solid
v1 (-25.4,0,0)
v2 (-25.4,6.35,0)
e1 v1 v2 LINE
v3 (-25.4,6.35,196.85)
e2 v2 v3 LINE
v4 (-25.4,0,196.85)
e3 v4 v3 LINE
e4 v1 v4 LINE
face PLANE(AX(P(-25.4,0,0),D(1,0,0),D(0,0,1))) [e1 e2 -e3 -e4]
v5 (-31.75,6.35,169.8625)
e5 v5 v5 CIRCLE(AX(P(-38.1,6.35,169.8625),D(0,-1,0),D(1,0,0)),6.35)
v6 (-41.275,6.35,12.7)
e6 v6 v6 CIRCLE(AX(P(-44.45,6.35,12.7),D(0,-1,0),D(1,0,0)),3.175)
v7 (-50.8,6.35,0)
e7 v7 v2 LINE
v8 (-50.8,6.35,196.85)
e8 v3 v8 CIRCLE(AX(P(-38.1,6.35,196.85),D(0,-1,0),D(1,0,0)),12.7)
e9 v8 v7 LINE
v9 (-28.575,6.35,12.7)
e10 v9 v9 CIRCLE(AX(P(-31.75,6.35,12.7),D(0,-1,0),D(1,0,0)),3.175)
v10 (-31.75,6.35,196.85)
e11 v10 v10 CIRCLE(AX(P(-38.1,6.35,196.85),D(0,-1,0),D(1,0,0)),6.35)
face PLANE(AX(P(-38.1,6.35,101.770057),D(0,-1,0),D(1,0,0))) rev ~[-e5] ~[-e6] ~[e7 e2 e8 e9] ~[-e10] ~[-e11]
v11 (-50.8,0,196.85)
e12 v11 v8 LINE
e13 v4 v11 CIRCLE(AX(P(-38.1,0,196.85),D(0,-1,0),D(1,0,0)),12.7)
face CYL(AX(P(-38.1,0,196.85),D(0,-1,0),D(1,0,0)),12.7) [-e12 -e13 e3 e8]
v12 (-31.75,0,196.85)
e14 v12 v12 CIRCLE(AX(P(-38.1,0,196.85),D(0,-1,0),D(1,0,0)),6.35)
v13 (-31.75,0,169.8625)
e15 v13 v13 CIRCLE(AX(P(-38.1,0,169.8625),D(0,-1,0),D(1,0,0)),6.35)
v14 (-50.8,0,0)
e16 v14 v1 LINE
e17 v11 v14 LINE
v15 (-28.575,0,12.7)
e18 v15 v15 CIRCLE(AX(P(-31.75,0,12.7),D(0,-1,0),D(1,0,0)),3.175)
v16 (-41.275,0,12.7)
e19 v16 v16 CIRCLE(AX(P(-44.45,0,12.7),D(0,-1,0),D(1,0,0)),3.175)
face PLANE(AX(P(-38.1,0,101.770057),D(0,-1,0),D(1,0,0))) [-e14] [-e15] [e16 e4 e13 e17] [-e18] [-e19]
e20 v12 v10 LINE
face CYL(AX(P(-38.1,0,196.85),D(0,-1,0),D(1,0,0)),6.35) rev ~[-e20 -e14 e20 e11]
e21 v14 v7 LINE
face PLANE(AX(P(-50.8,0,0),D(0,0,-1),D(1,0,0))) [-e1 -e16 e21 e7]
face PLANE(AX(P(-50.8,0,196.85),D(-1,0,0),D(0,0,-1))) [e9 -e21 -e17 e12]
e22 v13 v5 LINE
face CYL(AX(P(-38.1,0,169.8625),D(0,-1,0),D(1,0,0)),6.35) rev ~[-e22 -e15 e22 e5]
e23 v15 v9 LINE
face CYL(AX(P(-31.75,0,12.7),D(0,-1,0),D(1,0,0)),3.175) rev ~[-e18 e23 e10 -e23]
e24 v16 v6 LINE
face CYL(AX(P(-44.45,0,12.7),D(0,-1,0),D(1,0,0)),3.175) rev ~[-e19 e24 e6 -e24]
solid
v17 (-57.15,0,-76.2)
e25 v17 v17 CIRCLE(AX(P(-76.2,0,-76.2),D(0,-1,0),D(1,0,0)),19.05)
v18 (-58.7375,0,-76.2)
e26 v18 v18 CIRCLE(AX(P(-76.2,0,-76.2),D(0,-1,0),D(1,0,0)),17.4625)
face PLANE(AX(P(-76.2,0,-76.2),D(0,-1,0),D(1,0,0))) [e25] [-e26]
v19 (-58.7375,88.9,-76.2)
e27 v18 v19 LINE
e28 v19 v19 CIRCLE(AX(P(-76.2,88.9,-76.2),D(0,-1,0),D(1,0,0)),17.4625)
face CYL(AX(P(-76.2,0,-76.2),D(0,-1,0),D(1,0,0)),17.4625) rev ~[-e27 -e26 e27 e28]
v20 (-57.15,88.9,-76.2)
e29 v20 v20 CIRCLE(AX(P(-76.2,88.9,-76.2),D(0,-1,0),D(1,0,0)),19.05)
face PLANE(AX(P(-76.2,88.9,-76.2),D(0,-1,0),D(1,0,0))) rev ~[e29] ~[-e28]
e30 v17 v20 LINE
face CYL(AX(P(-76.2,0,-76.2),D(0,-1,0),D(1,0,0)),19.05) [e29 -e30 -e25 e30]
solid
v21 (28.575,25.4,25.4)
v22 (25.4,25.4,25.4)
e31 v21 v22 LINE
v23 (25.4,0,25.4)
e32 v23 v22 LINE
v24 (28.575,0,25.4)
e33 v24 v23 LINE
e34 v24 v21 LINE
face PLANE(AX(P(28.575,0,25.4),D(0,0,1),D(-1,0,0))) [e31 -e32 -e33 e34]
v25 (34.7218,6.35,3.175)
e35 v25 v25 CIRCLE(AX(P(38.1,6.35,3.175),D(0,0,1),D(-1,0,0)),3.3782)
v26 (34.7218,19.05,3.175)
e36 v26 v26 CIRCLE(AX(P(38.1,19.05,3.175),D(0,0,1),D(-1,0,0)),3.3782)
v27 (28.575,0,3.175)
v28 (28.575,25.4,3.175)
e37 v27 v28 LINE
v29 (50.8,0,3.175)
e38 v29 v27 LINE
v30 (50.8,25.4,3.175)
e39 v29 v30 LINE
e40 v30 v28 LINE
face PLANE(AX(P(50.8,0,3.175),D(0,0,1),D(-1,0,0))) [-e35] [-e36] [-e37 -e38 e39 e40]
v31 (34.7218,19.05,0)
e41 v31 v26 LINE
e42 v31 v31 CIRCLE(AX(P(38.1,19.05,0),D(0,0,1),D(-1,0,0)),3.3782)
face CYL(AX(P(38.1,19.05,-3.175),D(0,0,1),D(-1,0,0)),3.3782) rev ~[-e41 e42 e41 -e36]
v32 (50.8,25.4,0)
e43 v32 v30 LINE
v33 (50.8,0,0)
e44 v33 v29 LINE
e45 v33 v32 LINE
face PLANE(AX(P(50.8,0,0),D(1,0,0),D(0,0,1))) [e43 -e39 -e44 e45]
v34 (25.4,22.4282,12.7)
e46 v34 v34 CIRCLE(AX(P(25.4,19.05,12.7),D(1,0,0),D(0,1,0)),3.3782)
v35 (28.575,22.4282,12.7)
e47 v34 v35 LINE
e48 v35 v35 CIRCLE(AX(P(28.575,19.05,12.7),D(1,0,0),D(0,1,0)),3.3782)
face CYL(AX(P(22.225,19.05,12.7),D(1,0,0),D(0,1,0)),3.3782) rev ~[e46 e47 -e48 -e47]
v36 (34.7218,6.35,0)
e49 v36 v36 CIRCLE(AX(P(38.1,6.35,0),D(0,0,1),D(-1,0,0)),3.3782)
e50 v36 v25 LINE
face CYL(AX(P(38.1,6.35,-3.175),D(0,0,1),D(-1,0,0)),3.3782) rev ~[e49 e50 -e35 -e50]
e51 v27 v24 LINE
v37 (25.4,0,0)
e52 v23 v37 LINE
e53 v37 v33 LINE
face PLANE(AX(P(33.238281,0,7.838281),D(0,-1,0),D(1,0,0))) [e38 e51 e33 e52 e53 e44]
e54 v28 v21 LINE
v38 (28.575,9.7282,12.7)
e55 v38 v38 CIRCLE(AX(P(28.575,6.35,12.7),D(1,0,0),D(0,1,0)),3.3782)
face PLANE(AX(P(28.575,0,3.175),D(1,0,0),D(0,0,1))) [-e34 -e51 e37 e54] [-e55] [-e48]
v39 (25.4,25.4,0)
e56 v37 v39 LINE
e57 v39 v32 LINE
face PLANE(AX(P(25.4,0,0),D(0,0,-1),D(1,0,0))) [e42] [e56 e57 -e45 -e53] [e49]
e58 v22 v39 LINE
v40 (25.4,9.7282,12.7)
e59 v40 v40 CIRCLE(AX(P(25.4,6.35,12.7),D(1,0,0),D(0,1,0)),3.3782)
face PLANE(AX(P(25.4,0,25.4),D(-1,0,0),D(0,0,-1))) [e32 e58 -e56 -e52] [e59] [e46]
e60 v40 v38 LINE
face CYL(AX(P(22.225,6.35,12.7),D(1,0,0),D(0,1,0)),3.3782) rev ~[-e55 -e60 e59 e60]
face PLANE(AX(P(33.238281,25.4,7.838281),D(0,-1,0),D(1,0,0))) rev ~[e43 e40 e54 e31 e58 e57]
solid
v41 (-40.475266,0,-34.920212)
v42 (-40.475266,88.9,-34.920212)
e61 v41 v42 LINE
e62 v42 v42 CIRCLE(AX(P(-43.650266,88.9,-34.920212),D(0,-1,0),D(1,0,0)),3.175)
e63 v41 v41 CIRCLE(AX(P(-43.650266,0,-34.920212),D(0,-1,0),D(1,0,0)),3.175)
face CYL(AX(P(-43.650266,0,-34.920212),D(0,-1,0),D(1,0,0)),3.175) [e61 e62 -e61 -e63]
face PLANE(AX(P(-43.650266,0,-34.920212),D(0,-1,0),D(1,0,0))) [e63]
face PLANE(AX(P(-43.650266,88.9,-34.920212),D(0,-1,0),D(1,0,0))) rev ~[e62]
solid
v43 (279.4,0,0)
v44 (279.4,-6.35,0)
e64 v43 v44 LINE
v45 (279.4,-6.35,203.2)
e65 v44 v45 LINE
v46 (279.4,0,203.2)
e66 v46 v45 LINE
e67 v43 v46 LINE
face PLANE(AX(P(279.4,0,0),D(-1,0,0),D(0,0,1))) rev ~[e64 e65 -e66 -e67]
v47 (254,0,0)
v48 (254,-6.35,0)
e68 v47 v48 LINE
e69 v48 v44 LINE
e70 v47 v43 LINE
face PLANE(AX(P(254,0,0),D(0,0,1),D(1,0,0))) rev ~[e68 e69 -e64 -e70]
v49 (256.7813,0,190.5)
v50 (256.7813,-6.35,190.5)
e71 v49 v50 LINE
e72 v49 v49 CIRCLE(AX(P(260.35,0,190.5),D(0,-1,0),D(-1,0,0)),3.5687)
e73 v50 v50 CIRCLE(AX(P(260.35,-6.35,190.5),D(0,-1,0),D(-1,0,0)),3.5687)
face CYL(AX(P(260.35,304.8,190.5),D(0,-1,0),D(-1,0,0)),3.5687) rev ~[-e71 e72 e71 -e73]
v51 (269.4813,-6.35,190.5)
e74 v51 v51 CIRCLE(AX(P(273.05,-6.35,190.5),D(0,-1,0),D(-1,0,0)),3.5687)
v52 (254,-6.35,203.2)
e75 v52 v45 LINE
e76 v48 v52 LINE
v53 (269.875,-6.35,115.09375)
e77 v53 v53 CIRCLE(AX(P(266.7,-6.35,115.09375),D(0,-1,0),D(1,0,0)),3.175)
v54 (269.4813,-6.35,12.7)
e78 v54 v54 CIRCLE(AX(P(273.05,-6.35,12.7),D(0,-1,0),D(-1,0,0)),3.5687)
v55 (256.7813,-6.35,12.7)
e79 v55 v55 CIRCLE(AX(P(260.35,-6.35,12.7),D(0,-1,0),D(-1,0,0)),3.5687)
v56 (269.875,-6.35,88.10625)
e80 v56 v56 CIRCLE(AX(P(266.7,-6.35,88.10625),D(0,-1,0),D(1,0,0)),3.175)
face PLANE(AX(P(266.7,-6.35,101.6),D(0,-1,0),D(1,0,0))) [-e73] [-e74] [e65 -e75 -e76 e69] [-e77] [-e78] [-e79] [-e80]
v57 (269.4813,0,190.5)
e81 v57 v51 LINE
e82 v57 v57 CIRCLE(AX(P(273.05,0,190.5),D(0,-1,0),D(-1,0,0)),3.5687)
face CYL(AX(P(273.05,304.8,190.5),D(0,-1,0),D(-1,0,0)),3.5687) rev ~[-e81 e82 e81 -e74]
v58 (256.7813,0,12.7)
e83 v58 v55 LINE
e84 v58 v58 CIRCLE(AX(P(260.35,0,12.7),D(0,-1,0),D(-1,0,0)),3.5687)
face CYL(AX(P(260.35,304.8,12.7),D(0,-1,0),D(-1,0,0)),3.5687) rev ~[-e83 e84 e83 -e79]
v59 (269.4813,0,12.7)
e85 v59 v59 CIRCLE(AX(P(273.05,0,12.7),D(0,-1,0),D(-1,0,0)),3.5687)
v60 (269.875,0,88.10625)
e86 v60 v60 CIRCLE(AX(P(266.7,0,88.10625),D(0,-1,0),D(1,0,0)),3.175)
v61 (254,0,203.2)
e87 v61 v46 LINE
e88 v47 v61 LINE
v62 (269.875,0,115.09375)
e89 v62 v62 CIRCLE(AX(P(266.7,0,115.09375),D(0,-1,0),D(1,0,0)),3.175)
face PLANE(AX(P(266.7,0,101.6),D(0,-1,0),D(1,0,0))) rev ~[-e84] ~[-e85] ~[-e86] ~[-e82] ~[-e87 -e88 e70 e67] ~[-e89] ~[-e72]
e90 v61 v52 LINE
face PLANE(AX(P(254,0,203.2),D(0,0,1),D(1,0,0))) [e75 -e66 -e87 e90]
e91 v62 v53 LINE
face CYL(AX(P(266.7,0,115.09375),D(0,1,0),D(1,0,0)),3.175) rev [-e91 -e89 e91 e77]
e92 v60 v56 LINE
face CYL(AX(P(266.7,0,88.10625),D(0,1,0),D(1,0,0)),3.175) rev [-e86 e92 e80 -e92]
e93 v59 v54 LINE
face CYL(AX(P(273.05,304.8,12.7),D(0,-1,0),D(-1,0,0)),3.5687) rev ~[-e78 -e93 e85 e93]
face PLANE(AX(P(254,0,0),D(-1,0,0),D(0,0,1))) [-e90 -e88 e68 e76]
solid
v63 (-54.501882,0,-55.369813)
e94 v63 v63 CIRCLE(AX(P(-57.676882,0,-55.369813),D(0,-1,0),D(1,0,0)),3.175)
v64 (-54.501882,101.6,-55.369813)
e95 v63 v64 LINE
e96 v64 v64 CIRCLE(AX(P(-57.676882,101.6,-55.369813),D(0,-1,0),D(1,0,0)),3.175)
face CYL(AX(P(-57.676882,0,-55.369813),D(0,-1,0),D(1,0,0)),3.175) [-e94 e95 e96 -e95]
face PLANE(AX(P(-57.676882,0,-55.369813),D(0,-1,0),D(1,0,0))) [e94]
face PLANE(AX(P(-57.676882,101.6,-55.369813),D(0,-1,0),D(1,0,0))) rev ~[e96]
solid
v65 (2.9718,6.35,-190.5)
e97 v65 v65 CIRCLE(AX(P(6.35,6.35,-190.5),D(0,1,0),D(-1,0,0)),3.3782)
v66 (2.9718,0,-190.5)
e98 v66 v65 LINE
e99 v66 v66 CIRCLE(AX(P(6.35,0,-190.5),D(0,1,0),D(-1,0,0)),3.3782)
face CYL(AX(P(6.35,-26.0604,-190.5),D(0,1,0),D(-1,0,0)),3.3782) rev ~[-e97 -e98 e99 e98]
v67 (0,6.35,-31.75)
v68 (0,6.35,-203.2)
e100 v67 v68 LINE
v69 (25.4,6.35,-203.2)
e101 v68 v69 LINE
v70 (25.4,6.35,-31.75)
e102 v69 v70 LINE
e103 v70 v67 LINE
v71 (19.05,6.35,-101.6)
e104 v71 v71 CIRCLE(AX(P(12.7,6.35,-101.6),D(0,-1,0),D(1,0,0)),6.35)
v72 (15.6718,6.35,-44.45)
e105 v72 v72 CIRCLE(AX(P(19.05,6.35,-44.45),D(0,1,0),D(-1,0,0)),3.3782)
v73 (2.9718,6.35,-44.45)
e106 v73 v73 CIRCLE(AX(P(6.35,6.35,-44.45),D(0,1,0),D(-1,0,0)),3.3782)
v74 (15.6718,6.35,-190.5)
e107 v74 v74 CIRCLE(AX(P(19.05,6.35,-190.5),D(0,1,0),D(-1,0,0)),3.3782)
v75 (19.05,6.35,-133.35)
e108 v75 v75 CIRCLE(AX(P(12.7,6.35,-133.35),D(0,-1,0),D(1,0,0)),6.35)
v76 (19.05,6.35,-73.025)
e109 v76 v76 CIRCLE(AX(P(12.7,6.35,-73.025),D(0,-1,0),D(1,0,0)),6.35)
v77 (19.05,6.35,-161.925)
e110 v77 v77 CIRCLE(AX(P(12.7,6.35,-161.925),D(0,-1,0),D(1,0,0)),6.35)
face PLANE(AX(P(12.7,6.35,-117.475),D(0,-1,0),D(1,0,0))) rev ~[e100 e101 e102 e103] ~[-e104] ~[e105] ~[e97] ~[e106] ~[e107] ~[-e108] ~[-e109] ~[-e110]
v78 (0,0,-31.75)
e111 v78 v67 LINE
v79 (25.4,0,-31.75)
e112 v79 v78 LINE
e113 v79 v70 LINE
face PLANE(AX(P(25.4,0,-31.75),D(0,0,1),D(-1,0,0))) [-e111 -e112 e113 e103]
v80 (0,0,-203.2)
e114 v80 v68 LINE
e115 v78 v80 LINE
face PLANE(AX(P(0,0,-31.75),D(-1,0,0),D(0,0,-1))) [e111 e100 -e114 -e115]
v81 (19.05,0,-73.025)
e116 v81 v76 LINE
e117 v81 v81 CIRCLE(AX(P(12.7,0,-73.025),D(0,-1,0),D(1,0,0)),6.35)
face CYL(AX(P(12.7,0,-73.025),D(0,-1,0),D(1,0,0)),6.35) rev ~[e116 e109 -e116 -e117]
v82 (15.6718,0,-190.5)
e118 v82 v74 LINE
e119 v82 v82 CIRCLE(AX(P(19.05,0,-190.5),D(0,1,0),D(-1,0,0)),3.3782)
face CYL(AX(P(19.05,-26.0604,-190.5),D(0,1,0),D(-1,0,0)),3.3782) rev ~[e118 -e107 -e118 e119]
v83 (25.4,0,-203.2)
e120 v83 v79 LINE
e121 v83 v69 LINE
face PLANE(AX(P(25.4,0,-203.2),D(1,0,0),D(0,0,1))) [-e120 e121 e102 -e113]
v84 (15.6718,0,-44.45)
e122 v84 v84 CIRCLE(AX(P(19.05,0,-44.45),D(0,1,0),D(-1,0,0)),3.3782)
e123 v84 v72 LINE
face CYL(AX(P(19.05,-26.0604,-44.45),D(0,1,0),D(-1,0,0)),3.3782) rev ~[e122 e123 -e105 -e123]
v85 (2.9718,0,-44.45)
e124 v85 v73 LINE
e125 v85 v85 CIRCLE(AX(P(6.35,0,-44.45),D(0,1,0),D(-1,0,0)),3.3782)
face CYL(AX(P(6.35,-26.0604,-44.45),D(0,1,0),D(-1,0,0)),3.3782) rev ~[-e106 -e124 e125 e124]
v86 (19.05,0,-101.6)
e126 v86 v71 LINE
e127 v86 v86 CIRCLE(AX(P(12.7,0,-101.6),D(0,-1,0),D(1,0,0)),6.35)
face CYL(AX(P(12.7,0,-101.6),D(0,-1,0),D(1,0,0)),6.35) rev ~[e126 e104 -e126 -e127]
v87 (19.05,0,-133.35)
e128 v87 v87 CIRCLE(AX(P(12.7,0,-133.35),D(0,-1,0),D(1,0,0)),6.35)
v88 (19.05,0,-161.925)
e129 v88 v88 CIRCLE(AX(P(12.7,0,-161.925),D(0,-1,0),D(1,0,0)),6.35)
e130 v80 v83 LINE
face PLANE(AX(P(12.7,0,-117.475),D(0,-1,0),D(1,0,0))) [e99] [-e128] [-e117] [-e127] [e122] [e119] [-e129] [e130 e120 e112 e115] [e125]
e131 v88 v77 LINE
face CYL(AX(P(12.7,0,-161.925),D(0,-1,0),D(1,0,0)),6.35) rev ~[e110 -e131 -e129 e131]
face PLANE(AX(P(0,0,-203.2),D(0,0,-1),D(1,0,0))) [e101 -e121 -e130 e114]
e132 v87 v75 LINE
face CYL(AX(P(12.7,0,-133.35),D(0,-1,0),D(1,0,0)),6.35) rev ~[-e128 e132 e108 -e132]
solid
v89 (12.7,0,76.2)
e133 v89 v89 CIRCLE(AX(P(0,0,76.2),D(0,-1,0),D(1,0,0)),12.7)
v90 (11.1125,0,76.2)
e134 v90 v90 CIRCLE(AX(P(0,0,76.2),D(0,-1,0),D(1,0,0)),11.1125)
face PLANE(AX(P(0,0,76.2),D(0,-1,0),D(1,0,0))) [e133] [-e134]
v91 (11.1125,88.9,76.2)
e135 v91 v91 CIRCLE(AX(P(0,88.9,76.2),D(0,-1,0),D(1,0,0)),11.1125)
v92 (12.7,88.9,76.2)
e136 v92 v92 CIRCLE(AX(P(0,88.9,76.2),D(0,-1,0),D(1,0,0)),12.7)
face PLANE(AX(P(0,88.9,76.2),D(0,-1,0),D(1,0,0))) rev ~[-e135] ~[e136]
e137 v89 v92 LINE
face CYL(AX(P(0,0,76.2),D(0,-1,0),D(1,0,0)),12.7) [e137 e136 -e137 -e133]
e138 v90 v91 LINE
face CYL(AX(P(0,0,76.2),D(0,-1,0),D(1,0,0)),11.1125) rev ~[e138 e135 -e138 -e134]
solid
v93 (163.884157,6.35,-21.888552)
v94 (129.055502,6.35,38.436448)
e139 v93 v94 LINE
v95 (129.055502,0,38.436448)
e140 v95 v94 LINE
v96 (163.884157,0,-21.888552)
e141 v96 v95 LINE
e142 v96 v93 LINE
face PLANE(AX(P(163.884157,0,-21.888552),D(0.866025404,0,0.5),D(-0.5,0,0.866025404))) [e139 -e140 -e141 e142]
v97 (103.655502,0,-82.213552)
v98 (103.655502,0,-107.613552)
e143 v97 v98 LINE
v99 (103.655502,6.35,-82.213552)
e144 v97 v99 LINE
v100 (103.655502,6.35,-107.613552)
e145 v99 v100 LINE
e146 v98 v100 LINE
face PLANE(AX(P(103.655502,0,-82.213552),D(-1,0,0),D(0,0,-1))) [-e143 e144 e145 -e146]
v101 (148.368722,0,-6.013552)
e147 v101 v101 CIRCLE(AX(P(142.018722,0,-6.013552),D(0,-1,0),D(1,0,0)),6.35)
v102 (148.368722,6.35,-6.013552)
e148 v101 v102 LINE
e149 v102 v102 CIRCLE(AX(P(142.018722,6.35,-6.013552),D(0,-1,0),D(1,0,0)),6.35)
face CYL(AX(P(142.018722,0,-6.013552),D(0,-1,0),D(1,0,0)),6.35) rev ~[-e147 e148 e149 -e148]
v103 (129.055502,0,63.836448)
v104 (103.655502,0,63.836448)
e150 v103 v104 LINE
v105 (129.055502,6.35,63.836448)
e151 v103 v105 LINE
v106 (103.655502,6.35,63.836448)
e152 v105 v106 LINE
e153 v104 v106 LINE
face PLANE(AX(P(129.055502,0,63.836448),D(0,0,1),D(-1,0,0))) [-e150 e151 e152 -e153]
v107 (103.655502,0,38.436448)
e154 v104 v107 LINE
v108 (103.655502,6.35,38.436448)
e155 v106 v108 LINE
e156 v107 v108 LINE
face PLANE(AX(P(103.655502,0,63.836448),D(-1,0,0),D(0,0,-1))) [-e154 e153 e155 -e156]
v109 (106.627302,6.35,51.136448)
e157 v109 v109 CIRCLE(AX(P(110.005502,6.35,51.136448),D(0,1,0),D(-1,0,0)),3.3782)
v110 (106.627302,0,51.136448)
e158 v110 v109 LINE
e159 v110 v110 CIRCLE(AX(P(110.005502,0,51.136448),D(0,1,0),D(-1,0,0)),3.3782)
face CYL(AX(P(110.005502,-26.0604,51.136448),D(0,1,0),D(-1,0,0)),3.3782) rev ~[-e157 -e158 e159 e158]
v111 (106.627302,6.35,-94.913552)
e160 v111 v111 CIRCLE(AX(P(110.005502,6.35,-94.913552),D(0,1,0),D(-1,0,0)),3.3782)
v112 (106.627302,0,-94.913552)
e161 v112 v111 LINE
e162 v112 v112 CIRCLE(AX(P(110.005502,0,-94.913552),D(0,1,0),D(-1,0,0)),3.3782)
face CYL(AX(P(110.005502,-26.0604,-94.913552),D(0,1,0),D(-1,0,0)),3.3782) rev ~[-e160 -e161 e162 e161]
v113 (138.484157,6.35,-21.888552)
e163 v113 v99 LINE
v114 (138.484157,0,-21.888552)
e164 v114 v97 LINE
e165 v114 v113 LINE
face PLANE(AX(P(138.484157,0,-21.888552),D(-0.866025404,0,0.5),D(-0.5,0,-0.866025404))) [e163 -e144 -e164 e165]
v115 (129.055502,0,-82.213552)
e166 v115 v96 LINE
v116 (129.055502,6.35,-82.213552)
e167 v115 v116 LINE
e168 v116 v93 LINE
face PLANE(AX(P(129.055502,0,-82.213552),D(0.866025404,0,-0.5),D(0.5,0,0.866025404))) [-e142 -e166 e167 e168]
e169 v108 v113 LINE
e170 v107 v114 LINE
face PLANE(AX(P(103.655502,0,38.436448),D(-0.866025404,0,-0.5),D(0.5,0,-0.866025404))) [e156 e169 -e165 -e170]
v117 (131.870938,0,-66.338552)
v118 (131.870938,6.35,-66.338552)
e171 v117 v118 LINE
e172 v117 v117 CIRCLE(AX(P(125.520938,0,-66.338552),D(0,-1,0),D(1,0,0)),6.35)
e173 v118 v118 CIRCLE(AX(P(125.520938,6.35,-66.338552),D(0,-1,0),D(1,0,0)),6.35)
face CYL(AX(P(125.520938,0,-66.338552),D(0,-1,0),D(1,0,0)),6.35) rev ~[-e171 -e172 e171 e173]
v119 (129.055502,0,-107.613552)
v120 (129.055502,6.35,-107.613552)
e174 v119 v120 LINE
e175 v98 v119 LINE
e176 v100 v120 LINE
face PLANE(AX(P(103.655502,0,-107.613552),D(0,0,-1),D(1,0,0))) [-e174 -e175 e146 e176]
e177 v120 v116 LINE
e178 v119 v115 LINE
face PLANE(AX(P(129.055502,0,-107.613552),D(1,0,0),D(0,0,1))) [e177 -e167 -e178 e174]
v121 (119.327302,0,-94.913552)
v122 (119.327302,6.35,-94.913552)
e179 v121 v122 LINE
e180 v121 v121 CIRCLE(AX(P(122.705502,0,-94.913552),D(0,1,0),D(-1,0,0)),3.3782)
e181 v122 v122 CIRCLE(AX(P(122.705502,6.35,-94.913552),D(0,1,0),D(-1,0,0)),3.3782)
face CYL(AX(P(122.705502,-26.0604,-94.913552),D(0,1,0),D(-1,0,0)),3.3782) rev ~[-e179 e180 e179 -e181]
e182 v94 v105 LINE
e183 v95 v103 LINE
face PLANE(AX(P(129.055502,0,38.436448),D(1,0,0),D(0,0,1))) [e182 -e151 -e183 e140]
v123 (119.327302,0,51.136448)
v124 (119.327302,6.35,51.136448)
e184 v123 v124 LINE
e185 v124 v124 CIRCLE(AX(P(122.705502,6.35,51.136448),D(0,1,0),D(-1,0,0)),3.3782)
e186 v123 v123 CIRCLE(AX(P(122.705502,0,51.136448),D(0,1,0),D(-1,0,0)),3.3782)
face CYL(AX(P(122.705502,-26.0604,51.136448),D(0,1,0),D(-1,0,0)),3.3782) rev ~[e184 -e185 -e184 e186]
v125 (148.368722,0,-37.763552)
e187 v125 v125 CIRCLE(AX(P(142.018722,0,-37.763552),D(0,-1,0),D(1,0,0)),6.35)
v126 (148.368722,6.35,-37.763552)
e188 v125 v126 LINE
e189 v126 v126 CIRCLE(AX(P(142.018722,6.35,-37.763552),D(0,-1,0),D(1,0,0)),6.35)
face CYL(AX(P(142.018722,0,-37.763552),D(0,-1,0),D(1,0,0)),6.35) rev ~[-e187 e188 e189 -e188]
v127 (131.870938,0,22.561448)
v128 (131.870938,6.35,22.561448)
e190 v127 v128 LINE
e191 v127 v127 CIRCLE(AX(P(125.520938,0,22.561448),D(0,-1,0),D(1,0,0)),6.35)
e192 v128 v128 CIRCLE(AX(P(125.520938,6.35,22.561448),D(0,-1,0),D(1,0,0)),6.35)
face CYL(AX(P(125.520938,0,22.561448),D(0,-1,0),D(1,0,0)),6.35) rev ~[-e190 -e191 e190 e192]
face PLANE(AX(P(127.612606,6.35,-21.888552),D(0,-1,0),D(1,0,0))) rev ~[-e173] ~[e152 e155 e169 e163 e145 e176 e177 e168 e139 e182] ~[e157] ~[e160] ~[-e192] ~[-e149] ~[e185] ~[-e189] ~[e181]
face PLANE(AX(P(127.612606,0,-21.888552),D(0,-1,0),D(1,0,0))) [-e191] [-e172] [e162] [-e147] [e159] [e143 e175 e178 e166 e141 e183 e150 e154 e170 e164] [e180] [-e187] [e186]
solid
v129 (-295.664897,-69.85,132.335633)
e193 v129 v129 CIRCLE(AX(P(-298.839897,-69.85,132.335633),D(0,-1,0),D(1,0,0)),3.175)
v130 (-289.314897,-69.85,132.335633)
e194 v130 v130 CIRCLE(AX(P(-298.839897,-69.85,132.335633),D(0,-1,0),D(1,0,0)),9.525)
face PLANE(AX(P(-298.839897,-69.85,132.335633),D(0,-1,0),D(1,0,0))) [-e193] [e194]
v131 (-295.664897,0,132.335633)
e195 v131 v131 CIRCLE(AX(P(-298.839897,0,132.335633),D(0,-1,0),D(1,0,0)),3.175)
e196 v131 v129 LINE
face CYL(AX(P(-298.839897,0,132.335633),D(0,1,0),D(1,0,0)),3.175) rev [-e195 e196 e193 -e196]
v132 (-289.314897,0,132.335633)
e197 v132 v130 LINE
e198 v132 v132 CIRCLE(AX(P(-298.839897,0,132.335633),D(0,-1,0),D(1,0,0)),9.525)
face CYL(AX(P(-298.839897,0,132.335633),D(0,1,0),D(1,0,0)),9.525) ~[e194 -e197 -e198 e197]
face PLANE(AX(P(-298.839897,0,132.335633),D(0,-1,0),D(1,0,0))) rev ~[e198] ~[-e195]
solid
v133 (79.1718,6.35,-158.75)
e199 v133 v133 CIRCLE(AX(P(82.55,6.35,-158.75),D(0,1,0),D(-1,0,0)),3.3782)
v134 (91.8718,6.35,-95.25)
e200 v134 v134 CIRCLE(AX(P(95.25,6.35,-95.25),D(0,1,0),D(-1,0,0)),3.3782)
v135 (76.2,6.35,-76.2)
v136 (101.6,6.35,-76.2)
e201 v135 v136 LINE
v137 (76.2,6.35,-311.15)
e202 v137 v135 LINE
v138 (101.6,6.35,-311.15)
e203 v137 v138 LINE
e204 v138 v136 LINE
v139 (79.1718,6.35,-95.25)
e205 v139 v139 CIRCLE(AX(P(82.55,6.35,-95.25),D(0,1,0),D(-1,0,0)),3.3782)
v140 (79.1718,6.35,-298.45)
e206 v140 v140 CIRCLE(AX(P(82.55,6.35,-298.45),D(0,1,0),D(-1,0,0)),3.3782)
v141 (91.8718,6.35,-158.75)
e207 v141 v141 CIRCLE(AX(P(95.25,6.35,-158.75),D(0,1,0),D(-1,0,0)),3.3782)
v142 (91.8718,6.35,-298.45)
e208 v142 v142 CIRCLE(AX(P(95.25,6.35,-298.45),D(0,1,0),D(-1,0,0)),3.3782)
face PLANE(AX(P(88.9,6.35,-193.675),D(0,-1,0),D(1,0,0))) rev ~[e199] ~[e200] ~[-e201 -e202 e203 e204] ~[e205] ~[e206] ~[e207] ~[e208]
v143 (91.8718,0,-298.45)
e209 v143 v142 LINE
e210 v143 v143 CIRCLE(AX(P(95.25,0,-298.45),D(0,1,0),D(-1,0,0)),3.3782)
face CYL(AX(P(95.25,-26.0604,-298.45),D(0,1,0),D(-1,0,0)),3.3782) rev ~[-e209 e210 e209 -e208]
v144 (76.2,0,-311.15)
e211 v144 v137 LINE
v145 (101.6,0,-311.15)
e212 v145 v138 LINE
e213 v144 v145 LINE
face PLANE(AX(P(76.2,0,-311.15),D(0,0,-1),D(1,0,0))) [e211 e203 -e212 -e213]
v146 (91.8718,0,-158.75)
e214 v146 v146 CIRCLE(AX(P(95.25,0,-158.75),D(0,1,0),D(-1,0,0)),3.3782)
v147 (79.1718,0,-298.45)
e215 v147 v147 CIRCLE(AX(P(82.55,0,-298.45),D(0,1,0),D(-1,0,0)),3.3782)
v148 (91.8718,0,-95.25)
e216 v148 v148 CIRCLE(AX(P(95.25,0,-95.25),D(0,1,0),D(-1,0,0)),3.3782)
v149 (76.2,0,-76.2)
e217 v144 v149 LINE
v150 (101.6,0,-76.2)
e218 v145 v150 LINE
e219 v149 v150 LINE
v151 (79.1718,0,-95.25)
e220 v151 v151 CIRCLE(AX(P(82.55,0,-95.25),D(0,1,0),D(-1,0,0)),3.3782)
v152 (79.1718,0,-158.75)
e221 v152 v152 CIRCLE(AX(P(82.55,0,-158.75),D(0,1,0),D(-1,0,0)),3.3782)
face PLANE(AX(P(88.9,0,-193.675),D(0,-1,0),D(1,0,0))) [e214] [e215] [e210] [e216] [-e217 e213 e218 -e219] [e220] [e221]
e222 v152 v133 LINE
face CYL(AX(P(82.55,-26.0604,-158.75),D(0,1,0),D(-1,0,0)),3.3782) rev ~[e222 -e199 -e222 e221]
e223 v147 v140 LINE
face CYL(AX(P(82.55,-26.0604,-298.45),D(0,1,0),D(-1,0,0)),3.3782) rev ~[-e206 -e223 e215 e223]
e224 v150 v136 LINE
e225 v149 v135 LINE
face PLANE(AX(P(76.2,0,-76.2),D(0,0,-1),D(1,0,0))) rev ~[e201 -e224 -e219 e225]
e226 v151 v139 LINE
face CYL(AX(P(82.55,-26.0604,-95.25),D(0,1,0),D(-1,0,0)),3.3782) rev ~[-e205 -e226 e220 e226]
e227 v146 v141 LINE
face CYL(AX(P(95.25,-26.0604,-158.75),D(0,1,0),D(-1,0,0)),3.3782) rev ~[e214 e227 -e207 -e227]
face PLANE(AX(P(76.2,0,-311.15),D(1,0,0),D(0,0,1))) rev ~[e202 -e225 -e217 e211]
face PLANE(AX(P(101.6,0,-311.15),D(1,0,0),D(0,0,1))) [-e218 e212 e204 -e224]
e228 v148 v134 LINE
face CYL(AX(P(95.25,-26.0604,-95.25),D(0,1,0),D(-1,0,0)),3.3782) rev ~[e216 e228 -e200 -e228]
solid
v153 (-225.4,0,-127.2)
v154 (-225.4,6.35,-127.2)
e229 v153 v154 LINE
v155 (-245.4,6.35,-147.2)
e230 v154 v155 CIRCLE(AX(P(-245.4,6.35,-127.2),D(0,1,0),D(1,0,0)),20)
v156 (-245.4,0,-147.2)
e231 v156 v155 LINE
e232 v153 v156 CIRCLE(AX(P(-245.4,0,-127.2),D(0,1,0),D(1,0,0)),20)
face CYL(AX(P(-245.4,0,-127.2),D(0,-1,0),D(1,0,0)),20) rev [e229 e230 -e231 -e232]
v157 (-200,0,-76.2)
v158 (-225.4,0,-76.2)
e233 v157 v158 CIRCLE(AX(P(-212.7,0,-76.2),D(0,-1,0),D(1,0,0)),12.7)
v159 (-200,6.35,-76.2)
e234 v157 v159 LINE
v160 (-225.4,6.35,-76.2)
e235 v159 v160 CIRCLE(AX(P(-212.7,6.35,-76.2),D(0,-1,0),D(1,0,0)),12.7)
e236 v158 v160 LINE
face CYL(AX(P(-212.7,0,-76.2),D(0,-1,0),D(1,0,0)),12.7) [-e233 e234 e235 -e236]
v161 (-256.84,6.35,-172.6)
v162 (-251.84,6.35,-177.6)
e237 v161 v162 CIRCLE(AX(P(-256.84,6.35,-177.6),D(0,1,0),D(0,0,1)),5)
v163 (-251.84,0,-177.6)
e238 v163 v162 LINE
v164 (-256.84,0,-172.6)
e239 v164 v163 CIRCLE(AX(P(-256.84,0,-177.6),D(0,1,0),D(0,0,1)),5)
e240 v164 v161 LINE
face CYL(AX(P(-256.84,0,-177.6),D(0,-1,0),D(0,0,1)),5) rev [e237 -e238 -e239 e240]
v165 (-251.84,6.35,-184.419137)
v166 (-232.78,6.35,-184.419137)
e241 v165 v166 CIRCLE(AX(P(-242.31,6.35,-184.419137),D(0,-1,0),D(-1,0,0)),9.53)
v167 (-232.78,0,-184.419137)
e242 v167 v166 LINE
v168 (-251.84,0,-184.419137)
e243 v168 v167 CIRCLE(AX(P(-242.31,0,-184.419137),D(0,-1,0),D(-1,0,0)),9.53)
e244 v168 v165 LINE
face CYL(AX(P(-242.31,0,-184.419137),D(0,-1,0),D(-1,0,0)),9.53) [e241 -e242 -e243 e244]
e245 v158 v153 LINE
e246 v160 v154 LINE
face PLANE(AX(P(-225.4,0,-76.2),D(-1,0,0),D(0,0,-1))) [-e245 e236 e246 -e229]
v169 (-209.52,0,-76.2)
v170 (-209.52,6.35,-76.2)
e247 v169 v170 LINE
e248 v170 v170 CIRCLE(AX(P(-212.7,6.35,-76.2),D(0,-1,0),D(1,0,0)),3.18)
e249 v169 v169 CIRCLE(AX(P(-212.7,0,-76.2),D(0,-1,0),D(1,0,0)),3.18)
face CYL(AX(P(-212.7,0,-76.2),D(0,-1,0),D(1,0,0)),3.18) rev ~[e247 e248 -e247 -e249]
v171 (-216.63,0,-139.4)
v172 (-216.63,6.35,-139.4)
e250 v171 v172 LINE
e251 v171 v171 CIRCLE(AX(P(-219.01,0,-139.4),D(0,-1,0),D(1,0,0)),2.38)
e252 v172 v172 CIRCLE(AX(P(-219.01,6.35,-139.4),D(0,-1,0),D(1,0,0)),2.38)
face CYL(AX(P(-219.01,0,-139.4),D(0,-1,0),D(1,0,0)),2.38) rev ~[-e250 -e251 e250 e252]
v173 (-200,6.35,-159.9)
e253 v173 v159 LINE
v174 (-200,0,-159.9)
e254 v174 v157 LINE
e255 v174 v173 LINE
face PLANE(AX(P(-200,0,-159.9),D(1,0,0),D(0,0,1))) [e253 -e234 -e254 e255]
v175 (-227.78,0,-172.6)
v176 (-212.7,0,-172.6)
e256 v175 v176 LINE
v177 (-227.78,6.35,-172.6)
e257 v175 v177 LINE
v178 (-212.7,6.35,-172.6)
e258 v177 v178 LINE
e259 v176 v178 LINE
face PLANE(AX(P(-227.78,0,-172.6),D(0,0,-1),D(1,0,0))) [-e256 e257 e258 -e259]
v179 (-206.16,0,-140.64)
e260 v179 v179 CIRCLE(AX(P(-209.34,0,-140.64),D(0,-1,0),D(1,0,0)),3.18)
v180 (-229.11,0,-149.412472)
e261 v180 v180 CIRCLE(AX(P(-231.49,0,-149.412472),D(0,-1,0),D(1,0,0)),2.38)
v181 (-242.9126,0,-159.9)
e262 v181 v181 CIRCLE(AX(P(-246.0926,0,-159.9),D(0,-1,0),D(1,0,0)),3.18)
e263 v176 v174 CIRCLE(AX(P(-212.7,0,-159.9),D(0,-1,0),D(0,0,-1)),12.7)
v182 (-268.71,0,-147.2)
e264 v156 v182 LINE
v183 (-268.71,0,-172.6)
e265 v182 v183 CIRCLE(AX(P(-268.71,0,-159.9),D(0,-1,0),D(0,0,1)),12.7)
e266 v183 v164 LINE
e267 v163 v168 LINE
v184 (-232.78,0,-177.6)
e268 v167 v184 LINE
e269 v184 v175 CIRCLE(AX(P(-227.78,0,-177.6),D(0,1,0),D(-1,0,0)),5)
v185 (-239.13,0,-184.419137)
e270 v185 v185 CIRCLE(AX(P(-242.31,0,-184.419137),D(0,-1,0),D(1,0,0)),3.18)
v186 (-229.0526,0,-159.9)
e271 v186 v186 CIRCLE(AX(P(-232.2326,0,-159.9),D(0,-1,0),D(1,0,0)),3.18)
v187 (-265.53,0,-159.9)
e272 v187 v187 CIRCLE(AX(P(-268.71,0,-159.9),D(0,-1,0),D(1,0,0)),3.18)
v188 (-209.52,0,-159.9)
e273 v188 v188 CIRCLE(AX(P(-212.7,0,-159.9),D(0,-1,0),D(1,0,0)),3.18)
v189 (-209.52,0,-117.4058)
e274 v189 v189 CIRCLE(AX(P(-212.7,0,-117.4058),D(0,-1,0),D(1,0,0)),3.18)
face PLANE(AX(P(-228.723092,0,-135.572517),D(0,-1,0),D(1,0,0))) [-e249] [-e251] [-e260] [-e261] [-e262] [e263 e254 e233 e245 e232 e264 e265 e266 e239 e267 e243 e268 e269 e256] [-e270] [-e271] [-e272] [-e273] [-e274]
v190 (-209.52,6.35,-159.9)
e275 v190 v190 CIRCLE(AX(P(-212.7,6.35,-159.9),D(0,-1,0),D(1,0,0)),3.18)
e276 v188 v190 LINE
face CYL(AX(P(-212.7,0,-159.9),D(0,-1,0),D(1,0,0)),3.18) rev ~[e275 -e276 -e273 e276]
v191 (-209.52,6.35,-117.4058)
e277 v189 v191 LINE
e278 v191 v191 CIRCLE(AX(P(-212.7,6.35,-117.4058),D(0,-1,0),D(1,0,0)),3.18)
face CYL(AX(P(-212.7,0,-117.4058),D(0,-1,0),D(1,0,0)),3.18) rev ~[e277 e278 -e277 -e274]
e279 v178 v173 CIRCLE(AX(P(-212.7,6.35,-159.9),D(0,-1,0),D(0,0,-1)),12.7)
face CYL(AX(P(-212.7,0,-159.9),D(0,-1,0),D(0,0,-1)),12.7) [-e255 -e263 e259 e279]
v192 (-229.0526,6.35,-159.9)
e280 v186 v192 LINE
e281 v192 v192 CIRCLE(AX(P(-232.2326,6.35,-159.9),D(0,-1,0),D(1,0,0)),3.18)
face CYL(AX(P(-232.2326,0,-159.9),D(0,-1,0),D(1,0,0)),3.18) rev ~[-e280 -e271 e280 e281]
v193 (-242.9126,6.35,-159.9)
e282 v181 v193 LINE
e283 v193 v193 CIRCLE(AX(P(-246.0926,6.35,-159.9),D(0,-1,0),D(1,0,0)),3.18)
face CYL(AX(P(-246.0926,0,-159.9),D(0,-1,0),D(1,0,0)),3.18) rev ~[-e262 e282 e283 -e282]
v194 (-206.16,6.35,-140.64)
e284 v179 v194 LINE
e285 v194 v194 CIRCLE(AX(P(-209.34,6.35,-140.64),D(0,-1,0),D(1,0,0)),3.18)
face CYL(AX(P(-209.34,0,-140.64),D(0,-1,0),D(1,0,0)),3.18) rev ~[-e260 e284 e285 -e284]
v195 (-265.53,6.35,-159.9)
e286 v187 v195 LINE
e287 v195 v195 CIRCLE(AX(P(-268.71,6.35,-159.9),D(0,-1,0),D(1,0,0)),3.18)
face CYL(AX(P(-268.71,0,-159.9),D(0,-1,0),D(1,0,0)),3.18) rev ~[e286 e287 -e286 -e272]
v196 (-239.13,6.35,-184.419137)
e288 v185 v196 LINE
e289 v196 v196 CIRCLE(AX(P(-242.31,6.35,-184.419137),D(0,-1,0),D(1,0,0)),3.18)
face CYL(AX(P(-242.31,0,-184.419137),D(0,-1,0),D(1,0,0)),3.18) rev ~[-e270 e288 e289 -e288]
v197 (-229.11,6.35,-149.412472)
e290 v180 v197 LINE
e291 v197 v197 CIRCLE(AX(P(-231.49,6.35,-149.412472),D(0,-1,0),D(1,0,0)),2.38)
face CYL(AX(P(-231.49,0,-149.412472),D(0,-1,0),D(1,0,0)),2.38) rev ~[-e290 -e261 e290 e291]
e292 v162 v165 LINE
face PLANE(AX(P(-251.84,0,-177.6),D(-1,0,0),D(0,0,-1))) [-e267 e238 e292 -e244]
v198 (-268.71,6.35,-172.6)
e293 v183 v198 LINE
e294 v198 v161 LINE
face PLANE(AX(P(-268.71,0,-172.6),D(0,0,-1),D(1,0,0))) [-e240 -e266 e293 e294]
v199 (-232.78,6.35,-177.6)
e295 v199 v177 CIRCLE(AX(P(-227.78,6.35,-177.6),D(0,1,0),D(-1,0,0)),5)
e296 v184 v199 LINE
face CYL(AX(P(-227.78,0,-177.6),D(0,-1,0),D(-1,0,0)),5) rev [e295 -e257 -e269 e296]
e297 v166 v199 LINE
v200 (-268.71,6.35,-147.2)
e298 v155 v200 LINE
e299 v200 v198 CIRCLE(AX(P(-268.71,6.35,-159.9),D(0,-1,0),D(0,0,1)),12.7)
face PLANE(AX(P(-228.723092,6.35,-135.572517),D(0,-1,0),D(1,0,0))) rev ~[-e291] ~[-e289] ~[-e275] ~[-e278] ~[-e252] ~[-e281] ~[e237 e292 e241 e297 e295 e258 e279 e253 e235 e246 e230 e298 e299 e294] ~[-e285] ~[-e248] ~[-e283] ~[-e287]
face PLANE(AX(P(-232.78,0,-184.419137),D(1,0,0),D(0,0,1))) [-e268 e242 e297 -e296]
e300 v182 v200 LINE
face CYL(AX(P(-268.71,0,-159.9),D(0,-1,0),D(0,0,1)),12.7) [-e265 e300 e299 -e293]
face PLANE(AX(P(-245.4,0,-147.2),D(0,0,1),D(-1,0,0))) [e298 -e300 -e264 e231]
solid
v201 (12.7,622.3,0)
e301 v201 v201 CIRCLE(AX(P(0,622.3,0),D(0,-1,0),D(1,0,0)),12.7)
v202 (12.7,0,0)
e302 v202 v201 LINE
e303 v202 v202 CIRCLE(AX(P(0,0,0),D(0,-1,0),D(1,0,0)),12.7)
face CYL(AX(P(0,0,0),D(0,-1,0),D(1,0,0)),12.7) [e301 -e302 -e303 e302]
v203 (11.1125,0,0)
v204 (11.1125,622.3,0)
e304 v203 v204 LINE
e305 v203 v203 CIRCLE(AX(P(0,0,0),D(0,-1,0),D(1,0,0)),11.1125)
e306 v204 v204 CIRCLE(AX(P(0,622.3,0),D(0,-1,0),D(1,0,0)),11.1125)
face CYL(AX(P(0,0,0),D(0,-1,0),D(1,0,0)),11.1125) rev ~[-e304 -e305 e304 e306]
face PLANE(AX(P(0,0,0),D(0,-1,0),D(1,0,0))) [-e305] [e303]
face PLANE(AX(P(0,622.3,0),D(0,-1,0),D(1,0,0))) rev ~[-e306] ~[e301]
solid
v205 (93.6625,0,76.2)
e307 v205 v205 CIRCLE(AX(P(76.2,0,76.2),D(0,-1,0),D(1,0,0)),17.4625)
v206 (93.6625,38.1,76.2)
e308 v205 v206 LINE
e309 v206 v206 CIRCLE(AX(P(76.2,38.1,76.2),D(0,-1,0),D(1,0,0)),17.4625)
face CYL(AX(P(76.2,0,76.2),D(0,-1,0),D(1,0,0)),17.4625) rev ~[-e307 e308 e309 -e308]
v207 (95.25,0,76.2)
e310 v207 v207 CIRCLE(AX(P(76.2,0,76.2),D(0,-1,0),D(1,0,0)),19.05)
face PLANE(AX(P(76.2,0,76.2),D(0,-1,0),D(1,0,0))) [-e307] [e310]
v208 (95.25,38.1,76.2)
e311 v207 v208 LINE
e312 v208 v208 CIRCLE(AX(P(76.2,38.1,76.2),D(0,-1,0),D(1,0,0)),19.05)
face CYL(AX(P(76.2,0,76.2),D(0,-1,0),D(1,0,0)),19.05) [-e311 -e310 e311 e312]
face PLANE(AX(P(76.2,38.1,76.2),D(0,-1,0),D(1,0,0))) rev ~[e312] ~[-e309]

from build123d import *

# Parameters (mm, degrees)
F0_R             = 12.7
F0_R_2           = 11.1125
F1_DEPTH         = 622.3
F2_R             = 19.05
F2_R_2           = 17.4625
F3_DEPTH         = 38.1
F4_R             = 19.05
F4_R_2           = 17.4625
F5_DEPTH         = 88.9
F6_R             = 3.175
F7_DEPTH         = 6.35
F8_R             = 3.175
F8_R_2           = 6.35
F9_DEPTH         = 6.35
F11_DEPTH        = 25.4
F14_D            = 6.7564
F14_DEPTH        = 3.175
F14_TIP          = 2.0298273432
F14_ON_F12_D     = 6.7564
F14_ON_F12_DEPTH = 3.175
F14_ON_F12_TIP   = 2.0298273432
F15_R            = 12.7
F15_R_2          = 11.1125
F16_DEPTH        = 88.9
F17_R            = 6.35
F18_DEPTH        = 6.35
F19_D            = 6.7564
F19_DEPTH        = 26.0604
F19_TIP          = 2.0298273432
F20_W            = 25.4
F20_H            = 234.95
F21_DEPTH        = 6.35
F22_D            = 6.7564
F22_DEPTH        = 26.0604
F22_TIP          = 2.0298273432
F23_R            = 6.35
F24_DEPTH        = 6.35
F25_D            = 6.7564
F25_DEPTH        = 26.0604
F25_TIP          = 2.0298273432
F26_R            = 3.18
F26_R_2          = 2.38
F27_DEPTH        = 6.35
F28_R            = 3.175
F29_DEPTH        = 101.6
F30_R            = 3.175
F31_DEPTH        = 88.9
F32_W            = 25.4
F32_H            = 203.2
F32_R            = 3.175
F33_DEPTH        = 6.35
F34_D            = 7.1374
F34_DEPTH        = 304.8
F34_TIP          = 2.1442912911
F36_R            = 9.525
F36_R_2          = 3.175
F37_DEPTH        = 69.85


with BuildPart() as f1:
    # F0 (on Front) → F1 (new body)
    with BuildSketch(Plane.XZ):
        Circle(F0_R)
        Circle(F0_R_2, mode=Mode.SUBTRACT)
    extrude(amount=-F1_DEPTH)


with BuildPart() as f3:
    # F2 (on Front) → F3 (new body)
    with BuildSketch(Plane.XZ):
        with Locations((76.2, 76.2)):
            Circle(F2_R)
        with Locations((76.2, 76.2)):
            Circle(F2_R_2, mode=Mode.SUBTRACT)
    extrude(amount=-F3_DEPTH)


with BuildPart() as f5:
    # F4 (on Front) → F5 (new body)
    with BuildSketch(Plane.XZ):
        with Locations((-76.2, -76.2)):
            Circle(F4_R)
        with Locations((-76.2, -76.2)):
            Circle(F4_R_2, mode=Mode.SUBTRACT)
    extrude(amount=-F5_DEPTH)


with BuildPart() as f7:
    # F6 (on Front) → F7 (new body)
    with BuildSketch(Plane.XZ):
        with BuildLine():
            ThreePointArc((-88.9, 0), (-79.9197438789, 3.7197438789), (-76.2, 12.7))
            Line((-76.2, 12.7), (-76.2, 101.6))
            ThreePointArc((-76.2, 101.6), (-88.9, 114.3), (-101.6, 101.6))
            Line((-101.6, 101.6), (-101.6, 44.45))
            ThreePointArc((-101.6, 44.45), (-107.1796158184, 30.9796158184), (-120.65, 25.4))
            Line((-120.65, 25.4), (-146.05, 25.4))
            ThreePointArc((-146.05, 25.4), (-158.75, 12.7), (-146.05, 0))
            Line((-146.05, 0), (-88.9, 0))
        make_face()
        with Locations((-146.05, 12.7)):
            Circle(F6_R, mode=Mode.SUBTRACT)
        with Locations((-88.9, 12.7)):
            Circle(F6_R, mode=Mode.SUBTRACT)
        with Locations((-88.9, 101.6)):
            Circle(F6_R, mode=Mode.SUBTRACT)
    extrude(amount=-F7_DEPTH)


with BuildPart() as f9:
    # F8 (on Front) → F9 (new body)
    with BuildSketch(Plane.XZ):
        with BuildLine():
            Line((-50.8, 0), (-25.4, 0))
            Line((-25.4, 0), (-25.4, 196.85))
            ThreePointArc((-25.4, 196.85), (-38.1, 209.55), (-50.8, 196.85))
            Line((-50.8, 196.85), (-50.8, 0))
        make_face()
        with Locations((-44.45, 12.7)):
            Circle(F8_R, mode=Mode.SUBTRACT)
        with Locations((-31.75, 12.7)):
            Circle(F8_R, mode=Mode.SUBTRACT)
        with Locations((-38.1, 169.8625)):
            Circle(F8_R_2, mode=Mode.SUBTRACT)
        with Locations((-38.1, 196.85)):
            Circle(F8_R_2, mode=Mode.SUBTRACT)
    extrude(amount=-F9_DEPTH)


with BuildPart() as f11:
    # F10 (on Front) → F11 (new body)
    with BuildSketch(Plane.XZ):
        Polygon((25.4, 25.4), (25.4, 0), (50.8, 0), (50.8, 3.175), (28.575, 3.175), (28.575, 25.4), align=None)
    extrude(amount=-F11_DEPTH)

    # F14
    with Locations(Plane(origin=(0, 0, 0), x_dir=(1, 0, 0), z_dir=(0, 0, -1))):
        with Locations((38.1, -6.35), (38.1, -19.05)):
            Hole(F14_D / 2, depth=F14_DEPTH)
            with Locations((0, 0, -(F14_DEPTH + F14_TIP / 2))):  # 118° drill point
                Cone(0, F14_D / 2, F14_TIP, mode=Mode.SUBTRACT)

    # F14 on F12
    with Locations(Plane(origin=(25.4, 0, 0), x_dir=(0, -1, 0), z_dir=(-1, 0, 0))):
        with Locations((-19.05, 12.7), (-6.35, 12.7)):
            Hole(F14_ON_F12_D / 2, depth=F14_ON_F12_DEPTH)
            with Locations((0, 0, -(F14_ON_F12_DEPTH + F14_ON_F12_TIP / 2))):  # 118° drill point
                Cone(0, F14_ON_F12_D / 2, F14_ON_F12_TIP, mode=Mode.SUBTRACT)


with BuildPart() as f16:
    # F15 (on Front) → F16 (new body)
    with BuildSketch(Plane.XZ):
        with Locations((0, 76.2)):
            Circle(F15_R)
        with Locations((0, 76.2)):
            Circle(F15_R_2, mode=Mode.SUBTRACT)
    extrude(amount=-F16_DEPTH)


with BuildPart() as f18:
    # F17 (on Front) → F18 (new body)
    with BuildSketch(Plane.XZ):
        Polygon((0, -31.75), (0, -76.2), (0, -158.75), (0, -203.2), (25.4, -203.2), (25.4, -165.1), (25.4, -69.85), (25.4, -31.75), align=None)
        with Locations((12.7, -161.925)):
            Circle(F17_R, mode=Mode.SUBTRACT)
        with Locations((12.7, -133.35)):
            Circle(F17_R, mode=Mode.SUBTRACT)
        with Locations((12.7, -101.6)):
            Circle(F17_R, mode=Mode.SUBTRACT)
        with Locations((12.7, -73.025)):
            Circle(F17_R, mode=Mode.SUBTRACT)
    extrude(amount=-F18_DEPTH)

    # F19
    with Locations(Plane.XZ):
        with Locations((6.35, -44.45), (19.05, -44.45), (6.35, -190.5), (19.05, -190.5)):
            Hole(F19_D / 2, depth=F19_DEPTH)
            with Locations((0, 0, -(F19_DEPTH + F19_TIP / 2))):  # 118° drill point
                Cone(0, F19_D / 2, F19_TIP, mode=Mode.SUBTRACT)


with BuildPart() as f21:
    # F20 (on Front) → F21 (new body)
    with BuildSketch(Plane.XZ):
        with Locations((88.9, -193.675)):
            Rectangle(F20_W, F20_H)
    extrude(amount=-F21_DEPTH)

    # F22
    with Locations(Plane.XZ):
        with Locations((82.55, -95.25), (95.25, -95.25), (82.55, -158.75), (95.25, -158.75), (82.55, -298.45), (95.25, -298.45)):
            Hole(F22_D / 2, depth=F22_DEPTH)
            with Locations((0, 0, -(F22_DEPTH + F22_TIP / 2))):  # 118° drill point
                Cone(0, F22_D / 2, F22_TIP, mode=Mode.SUBTRACT)


with BuildPart() as f24:
    # F23 (on Front) → F24 (new body)
    with BuildSketch(Plane.XZ):
        Polygon((103.6555022001, -82.2135522336), (103.6555022001, -107.6135522336), (129.0555022001, -107.6135522336), (129.0555022001, -82.2135522336), (163.8841571889, -21.8885522336), (129.0555022001, 38.4364477664), (129.0555022001, 63.8364477664), (103.6555022001, 63.8364477664), (103.6555022001, 38.4364477664), (138.4841571889, -21.8885522336), align=None)
        with Locations((125.5209377234, -66.3385522336)):
            Circle(F23_R, mode=Mode.SUBTRACT)
        with Locations((142.0187216655, -37.7635522336)):
            Circle(F23_R, mode=Mode.SUBTRACT)
        with Locations((125.5209377234, 22.5614477664)):
            Circle(F23_R, mode=Mode.SUBTRACT)
        with Locations((142.0187216655, -6.0135522336)):
            Circle(F23_R, mode=Mode.SUBTRACT)
    extrude(amount=-F24_DEPTH)

    # F25
    with Locations(Plane.XZ):
        with Locations((110.0055022001, -94.9135522336), (122.7055022001, -94.9135522336), (110.0055022001, 51.1364477664), (122.7055022001, 51.1364477664)):
            Hole(F25_D / 2, depth=F25_DEPTH)
            with Locations((0, 0, -(F25_DEPTH + F25_TIP / 2))):  # 118° drill point
                Cone(0, F25_D / 2, F25_TIP, mode=Mode.SUBTRACT)


with BuildPart() as f27:
    # F26 (on Front) → F27 (new body)
    with BuildSketch(Plane.XZ):
        with BuildLine():
            Line((-200, -159.9), (-200, -76.2))
            ThreePointArc((-200, -76.2), (-212.7, -63.5), (-225.4, -76.2))
            Line((-225.4, -76.2), (-225.4, -127.2))
            ThreePointArc((-225.4, -127.2), (-231.2578643763, -141.3421356237), (-245.4, -147.2))
            Line((-245.4, -147.2), (-268.71, -147.2))
            ThreePointArc((-268.71, -147.2), (-281.41, -159.9), (-268.71, -172.6))
            Line((-268.71, -172.6), (-256.84, -172.6))
            ThreePointArc((-256.84, -172.6), (-253.3044660941, -174.0644660941), (-251.84, -177.6))
            Line((-251.84, -177.6), (-251.84, -184.4191370243))
            ThreePointArc((-251.84, -184.4191370243), (-242.31, -193.9491370243), (-232.78, -184.4191370243))
            Line((-232.78, -184.4191370243), (-232.78, -177.6))
            ThreePointArc((-232.78, -177.6), (-231.3155339059, -174.0644660941), (-227.78, -172.6))
            Line((-227.78, -172.6), (-212.7, -172.6))
            ThreePointArc((-212.7, -172.6), (-203.7197438789, -168.8802561211), (-200, -159.9))
        make_face()
        with Locations((-242.31, -184.4191370243)):
            Circle(F26_R, mode=Mode.SUBTRACT)
        with Locations((-268.71, -159.9)):
            Circle(F26_R, mode=Mode.SUBTRACT)
        with Locations((-246.0926, -159.9)):
            Circle(F26_R, mode=Mode.SUBTRACT)
        with Locations((-232.2326, -159.9)):
            Circle(F26_R, mode=Mode.SUBTRACT)
        with Locations((-231.49, -149.4124722222)):
            Circle(F26_R_2, mode=Mode.SUBTRACT)
        with Locations((-212.7, -159.9)):
            Circle(F26_R, mode=Mode.SUBTRACT)
        with Locations((-219.01, -139.4)):
            Circle(F26_R_2, mode=Mode.SUBTRACT)
        with Locations((-209.34, -140.64)):
            Circle(F26_R, mode=Mode.SUBTRACT)
        with Locations((-212.7, -117.4058)):
            Circle(F26_R, mode=Mode.SUBTRACT)
        with Locations((-212.7, -76.2)):
            Circle(F26_R, mode=Mode.SUBTRACT)
    extrude(amount=-F27_DEPTH)


with BuildPart() as f29:
    # F28 (on Front) → F29 (new body)
    with BuildSketch(Plane.XZ):
        with Locations((-57.6768815517, -55.3698129952)):
            Circle(F28_R)
    extrude(amount=-F29_DEPTH)


with BuildPart() as f31:
    # F30 (on Front) → F31 (new body)
    with BuildSketch(Plane.XZ):
        with Locations((-43.6502657831, -34.9202118814)):
            Circle(F30_R)
    extrude(amount=-F31_DEPTH)


with BuildPart() as f33:
    # F32 (on Front) → F33 (new body)
    with BuildSketch(Plane.XZ):
        with Locations((266.7, 101.6)):
            Rectangle(F32_W, F32_H)
        with Locations((266.7, 88.10625)):
            Circle(F32_R, mode=Mode.SUBTRACT)
        with Locations((266.7, 115.09375)):
            Circle(F32_R, mode=Mode.SUBTRACT)
    extrude(amount=F33_DEPTH)

    # F34
    with Locations(Plane(origin=(0, 0, 0), x_dir=(1, 0, 0), z_dir=(0, 1, 0))):
        with Locations((260.35, -12.7), (273.05, -12.7), (260.35, -190.5), (273.05, -190.5)):
            Hole(F34_D / 2, depth=F34_DEPTH)
            with Locations((0, 0, -(F34_DEPTH + F34_TIP / 2))):  # 118° drill point
                Cone(0, F34_D / 2, F34_TIP, mode=Mode.SUBTRACT)


with BuildPart() as f37:
    # F36 (on Front) → F37 (new body)
    with BuildSketch(Plane.XZ):
        with Locations((-298.8398969173, 132.3356330395)):
            Circle(F36_R)
        with Locations((-298.8398969173, 132.3356330395)):
            Circle(F36_R_2, mode=Mode.SUBTRACT)
    extrude(amount=F37_DEPTH)


solid = Compound([f1.part, f3.part, f5.part, f9.part, f11.part, f16.part, f18.part, f21.part, f24.part, f27.part, f29.part, f31.part, f33.part, f37.part])
